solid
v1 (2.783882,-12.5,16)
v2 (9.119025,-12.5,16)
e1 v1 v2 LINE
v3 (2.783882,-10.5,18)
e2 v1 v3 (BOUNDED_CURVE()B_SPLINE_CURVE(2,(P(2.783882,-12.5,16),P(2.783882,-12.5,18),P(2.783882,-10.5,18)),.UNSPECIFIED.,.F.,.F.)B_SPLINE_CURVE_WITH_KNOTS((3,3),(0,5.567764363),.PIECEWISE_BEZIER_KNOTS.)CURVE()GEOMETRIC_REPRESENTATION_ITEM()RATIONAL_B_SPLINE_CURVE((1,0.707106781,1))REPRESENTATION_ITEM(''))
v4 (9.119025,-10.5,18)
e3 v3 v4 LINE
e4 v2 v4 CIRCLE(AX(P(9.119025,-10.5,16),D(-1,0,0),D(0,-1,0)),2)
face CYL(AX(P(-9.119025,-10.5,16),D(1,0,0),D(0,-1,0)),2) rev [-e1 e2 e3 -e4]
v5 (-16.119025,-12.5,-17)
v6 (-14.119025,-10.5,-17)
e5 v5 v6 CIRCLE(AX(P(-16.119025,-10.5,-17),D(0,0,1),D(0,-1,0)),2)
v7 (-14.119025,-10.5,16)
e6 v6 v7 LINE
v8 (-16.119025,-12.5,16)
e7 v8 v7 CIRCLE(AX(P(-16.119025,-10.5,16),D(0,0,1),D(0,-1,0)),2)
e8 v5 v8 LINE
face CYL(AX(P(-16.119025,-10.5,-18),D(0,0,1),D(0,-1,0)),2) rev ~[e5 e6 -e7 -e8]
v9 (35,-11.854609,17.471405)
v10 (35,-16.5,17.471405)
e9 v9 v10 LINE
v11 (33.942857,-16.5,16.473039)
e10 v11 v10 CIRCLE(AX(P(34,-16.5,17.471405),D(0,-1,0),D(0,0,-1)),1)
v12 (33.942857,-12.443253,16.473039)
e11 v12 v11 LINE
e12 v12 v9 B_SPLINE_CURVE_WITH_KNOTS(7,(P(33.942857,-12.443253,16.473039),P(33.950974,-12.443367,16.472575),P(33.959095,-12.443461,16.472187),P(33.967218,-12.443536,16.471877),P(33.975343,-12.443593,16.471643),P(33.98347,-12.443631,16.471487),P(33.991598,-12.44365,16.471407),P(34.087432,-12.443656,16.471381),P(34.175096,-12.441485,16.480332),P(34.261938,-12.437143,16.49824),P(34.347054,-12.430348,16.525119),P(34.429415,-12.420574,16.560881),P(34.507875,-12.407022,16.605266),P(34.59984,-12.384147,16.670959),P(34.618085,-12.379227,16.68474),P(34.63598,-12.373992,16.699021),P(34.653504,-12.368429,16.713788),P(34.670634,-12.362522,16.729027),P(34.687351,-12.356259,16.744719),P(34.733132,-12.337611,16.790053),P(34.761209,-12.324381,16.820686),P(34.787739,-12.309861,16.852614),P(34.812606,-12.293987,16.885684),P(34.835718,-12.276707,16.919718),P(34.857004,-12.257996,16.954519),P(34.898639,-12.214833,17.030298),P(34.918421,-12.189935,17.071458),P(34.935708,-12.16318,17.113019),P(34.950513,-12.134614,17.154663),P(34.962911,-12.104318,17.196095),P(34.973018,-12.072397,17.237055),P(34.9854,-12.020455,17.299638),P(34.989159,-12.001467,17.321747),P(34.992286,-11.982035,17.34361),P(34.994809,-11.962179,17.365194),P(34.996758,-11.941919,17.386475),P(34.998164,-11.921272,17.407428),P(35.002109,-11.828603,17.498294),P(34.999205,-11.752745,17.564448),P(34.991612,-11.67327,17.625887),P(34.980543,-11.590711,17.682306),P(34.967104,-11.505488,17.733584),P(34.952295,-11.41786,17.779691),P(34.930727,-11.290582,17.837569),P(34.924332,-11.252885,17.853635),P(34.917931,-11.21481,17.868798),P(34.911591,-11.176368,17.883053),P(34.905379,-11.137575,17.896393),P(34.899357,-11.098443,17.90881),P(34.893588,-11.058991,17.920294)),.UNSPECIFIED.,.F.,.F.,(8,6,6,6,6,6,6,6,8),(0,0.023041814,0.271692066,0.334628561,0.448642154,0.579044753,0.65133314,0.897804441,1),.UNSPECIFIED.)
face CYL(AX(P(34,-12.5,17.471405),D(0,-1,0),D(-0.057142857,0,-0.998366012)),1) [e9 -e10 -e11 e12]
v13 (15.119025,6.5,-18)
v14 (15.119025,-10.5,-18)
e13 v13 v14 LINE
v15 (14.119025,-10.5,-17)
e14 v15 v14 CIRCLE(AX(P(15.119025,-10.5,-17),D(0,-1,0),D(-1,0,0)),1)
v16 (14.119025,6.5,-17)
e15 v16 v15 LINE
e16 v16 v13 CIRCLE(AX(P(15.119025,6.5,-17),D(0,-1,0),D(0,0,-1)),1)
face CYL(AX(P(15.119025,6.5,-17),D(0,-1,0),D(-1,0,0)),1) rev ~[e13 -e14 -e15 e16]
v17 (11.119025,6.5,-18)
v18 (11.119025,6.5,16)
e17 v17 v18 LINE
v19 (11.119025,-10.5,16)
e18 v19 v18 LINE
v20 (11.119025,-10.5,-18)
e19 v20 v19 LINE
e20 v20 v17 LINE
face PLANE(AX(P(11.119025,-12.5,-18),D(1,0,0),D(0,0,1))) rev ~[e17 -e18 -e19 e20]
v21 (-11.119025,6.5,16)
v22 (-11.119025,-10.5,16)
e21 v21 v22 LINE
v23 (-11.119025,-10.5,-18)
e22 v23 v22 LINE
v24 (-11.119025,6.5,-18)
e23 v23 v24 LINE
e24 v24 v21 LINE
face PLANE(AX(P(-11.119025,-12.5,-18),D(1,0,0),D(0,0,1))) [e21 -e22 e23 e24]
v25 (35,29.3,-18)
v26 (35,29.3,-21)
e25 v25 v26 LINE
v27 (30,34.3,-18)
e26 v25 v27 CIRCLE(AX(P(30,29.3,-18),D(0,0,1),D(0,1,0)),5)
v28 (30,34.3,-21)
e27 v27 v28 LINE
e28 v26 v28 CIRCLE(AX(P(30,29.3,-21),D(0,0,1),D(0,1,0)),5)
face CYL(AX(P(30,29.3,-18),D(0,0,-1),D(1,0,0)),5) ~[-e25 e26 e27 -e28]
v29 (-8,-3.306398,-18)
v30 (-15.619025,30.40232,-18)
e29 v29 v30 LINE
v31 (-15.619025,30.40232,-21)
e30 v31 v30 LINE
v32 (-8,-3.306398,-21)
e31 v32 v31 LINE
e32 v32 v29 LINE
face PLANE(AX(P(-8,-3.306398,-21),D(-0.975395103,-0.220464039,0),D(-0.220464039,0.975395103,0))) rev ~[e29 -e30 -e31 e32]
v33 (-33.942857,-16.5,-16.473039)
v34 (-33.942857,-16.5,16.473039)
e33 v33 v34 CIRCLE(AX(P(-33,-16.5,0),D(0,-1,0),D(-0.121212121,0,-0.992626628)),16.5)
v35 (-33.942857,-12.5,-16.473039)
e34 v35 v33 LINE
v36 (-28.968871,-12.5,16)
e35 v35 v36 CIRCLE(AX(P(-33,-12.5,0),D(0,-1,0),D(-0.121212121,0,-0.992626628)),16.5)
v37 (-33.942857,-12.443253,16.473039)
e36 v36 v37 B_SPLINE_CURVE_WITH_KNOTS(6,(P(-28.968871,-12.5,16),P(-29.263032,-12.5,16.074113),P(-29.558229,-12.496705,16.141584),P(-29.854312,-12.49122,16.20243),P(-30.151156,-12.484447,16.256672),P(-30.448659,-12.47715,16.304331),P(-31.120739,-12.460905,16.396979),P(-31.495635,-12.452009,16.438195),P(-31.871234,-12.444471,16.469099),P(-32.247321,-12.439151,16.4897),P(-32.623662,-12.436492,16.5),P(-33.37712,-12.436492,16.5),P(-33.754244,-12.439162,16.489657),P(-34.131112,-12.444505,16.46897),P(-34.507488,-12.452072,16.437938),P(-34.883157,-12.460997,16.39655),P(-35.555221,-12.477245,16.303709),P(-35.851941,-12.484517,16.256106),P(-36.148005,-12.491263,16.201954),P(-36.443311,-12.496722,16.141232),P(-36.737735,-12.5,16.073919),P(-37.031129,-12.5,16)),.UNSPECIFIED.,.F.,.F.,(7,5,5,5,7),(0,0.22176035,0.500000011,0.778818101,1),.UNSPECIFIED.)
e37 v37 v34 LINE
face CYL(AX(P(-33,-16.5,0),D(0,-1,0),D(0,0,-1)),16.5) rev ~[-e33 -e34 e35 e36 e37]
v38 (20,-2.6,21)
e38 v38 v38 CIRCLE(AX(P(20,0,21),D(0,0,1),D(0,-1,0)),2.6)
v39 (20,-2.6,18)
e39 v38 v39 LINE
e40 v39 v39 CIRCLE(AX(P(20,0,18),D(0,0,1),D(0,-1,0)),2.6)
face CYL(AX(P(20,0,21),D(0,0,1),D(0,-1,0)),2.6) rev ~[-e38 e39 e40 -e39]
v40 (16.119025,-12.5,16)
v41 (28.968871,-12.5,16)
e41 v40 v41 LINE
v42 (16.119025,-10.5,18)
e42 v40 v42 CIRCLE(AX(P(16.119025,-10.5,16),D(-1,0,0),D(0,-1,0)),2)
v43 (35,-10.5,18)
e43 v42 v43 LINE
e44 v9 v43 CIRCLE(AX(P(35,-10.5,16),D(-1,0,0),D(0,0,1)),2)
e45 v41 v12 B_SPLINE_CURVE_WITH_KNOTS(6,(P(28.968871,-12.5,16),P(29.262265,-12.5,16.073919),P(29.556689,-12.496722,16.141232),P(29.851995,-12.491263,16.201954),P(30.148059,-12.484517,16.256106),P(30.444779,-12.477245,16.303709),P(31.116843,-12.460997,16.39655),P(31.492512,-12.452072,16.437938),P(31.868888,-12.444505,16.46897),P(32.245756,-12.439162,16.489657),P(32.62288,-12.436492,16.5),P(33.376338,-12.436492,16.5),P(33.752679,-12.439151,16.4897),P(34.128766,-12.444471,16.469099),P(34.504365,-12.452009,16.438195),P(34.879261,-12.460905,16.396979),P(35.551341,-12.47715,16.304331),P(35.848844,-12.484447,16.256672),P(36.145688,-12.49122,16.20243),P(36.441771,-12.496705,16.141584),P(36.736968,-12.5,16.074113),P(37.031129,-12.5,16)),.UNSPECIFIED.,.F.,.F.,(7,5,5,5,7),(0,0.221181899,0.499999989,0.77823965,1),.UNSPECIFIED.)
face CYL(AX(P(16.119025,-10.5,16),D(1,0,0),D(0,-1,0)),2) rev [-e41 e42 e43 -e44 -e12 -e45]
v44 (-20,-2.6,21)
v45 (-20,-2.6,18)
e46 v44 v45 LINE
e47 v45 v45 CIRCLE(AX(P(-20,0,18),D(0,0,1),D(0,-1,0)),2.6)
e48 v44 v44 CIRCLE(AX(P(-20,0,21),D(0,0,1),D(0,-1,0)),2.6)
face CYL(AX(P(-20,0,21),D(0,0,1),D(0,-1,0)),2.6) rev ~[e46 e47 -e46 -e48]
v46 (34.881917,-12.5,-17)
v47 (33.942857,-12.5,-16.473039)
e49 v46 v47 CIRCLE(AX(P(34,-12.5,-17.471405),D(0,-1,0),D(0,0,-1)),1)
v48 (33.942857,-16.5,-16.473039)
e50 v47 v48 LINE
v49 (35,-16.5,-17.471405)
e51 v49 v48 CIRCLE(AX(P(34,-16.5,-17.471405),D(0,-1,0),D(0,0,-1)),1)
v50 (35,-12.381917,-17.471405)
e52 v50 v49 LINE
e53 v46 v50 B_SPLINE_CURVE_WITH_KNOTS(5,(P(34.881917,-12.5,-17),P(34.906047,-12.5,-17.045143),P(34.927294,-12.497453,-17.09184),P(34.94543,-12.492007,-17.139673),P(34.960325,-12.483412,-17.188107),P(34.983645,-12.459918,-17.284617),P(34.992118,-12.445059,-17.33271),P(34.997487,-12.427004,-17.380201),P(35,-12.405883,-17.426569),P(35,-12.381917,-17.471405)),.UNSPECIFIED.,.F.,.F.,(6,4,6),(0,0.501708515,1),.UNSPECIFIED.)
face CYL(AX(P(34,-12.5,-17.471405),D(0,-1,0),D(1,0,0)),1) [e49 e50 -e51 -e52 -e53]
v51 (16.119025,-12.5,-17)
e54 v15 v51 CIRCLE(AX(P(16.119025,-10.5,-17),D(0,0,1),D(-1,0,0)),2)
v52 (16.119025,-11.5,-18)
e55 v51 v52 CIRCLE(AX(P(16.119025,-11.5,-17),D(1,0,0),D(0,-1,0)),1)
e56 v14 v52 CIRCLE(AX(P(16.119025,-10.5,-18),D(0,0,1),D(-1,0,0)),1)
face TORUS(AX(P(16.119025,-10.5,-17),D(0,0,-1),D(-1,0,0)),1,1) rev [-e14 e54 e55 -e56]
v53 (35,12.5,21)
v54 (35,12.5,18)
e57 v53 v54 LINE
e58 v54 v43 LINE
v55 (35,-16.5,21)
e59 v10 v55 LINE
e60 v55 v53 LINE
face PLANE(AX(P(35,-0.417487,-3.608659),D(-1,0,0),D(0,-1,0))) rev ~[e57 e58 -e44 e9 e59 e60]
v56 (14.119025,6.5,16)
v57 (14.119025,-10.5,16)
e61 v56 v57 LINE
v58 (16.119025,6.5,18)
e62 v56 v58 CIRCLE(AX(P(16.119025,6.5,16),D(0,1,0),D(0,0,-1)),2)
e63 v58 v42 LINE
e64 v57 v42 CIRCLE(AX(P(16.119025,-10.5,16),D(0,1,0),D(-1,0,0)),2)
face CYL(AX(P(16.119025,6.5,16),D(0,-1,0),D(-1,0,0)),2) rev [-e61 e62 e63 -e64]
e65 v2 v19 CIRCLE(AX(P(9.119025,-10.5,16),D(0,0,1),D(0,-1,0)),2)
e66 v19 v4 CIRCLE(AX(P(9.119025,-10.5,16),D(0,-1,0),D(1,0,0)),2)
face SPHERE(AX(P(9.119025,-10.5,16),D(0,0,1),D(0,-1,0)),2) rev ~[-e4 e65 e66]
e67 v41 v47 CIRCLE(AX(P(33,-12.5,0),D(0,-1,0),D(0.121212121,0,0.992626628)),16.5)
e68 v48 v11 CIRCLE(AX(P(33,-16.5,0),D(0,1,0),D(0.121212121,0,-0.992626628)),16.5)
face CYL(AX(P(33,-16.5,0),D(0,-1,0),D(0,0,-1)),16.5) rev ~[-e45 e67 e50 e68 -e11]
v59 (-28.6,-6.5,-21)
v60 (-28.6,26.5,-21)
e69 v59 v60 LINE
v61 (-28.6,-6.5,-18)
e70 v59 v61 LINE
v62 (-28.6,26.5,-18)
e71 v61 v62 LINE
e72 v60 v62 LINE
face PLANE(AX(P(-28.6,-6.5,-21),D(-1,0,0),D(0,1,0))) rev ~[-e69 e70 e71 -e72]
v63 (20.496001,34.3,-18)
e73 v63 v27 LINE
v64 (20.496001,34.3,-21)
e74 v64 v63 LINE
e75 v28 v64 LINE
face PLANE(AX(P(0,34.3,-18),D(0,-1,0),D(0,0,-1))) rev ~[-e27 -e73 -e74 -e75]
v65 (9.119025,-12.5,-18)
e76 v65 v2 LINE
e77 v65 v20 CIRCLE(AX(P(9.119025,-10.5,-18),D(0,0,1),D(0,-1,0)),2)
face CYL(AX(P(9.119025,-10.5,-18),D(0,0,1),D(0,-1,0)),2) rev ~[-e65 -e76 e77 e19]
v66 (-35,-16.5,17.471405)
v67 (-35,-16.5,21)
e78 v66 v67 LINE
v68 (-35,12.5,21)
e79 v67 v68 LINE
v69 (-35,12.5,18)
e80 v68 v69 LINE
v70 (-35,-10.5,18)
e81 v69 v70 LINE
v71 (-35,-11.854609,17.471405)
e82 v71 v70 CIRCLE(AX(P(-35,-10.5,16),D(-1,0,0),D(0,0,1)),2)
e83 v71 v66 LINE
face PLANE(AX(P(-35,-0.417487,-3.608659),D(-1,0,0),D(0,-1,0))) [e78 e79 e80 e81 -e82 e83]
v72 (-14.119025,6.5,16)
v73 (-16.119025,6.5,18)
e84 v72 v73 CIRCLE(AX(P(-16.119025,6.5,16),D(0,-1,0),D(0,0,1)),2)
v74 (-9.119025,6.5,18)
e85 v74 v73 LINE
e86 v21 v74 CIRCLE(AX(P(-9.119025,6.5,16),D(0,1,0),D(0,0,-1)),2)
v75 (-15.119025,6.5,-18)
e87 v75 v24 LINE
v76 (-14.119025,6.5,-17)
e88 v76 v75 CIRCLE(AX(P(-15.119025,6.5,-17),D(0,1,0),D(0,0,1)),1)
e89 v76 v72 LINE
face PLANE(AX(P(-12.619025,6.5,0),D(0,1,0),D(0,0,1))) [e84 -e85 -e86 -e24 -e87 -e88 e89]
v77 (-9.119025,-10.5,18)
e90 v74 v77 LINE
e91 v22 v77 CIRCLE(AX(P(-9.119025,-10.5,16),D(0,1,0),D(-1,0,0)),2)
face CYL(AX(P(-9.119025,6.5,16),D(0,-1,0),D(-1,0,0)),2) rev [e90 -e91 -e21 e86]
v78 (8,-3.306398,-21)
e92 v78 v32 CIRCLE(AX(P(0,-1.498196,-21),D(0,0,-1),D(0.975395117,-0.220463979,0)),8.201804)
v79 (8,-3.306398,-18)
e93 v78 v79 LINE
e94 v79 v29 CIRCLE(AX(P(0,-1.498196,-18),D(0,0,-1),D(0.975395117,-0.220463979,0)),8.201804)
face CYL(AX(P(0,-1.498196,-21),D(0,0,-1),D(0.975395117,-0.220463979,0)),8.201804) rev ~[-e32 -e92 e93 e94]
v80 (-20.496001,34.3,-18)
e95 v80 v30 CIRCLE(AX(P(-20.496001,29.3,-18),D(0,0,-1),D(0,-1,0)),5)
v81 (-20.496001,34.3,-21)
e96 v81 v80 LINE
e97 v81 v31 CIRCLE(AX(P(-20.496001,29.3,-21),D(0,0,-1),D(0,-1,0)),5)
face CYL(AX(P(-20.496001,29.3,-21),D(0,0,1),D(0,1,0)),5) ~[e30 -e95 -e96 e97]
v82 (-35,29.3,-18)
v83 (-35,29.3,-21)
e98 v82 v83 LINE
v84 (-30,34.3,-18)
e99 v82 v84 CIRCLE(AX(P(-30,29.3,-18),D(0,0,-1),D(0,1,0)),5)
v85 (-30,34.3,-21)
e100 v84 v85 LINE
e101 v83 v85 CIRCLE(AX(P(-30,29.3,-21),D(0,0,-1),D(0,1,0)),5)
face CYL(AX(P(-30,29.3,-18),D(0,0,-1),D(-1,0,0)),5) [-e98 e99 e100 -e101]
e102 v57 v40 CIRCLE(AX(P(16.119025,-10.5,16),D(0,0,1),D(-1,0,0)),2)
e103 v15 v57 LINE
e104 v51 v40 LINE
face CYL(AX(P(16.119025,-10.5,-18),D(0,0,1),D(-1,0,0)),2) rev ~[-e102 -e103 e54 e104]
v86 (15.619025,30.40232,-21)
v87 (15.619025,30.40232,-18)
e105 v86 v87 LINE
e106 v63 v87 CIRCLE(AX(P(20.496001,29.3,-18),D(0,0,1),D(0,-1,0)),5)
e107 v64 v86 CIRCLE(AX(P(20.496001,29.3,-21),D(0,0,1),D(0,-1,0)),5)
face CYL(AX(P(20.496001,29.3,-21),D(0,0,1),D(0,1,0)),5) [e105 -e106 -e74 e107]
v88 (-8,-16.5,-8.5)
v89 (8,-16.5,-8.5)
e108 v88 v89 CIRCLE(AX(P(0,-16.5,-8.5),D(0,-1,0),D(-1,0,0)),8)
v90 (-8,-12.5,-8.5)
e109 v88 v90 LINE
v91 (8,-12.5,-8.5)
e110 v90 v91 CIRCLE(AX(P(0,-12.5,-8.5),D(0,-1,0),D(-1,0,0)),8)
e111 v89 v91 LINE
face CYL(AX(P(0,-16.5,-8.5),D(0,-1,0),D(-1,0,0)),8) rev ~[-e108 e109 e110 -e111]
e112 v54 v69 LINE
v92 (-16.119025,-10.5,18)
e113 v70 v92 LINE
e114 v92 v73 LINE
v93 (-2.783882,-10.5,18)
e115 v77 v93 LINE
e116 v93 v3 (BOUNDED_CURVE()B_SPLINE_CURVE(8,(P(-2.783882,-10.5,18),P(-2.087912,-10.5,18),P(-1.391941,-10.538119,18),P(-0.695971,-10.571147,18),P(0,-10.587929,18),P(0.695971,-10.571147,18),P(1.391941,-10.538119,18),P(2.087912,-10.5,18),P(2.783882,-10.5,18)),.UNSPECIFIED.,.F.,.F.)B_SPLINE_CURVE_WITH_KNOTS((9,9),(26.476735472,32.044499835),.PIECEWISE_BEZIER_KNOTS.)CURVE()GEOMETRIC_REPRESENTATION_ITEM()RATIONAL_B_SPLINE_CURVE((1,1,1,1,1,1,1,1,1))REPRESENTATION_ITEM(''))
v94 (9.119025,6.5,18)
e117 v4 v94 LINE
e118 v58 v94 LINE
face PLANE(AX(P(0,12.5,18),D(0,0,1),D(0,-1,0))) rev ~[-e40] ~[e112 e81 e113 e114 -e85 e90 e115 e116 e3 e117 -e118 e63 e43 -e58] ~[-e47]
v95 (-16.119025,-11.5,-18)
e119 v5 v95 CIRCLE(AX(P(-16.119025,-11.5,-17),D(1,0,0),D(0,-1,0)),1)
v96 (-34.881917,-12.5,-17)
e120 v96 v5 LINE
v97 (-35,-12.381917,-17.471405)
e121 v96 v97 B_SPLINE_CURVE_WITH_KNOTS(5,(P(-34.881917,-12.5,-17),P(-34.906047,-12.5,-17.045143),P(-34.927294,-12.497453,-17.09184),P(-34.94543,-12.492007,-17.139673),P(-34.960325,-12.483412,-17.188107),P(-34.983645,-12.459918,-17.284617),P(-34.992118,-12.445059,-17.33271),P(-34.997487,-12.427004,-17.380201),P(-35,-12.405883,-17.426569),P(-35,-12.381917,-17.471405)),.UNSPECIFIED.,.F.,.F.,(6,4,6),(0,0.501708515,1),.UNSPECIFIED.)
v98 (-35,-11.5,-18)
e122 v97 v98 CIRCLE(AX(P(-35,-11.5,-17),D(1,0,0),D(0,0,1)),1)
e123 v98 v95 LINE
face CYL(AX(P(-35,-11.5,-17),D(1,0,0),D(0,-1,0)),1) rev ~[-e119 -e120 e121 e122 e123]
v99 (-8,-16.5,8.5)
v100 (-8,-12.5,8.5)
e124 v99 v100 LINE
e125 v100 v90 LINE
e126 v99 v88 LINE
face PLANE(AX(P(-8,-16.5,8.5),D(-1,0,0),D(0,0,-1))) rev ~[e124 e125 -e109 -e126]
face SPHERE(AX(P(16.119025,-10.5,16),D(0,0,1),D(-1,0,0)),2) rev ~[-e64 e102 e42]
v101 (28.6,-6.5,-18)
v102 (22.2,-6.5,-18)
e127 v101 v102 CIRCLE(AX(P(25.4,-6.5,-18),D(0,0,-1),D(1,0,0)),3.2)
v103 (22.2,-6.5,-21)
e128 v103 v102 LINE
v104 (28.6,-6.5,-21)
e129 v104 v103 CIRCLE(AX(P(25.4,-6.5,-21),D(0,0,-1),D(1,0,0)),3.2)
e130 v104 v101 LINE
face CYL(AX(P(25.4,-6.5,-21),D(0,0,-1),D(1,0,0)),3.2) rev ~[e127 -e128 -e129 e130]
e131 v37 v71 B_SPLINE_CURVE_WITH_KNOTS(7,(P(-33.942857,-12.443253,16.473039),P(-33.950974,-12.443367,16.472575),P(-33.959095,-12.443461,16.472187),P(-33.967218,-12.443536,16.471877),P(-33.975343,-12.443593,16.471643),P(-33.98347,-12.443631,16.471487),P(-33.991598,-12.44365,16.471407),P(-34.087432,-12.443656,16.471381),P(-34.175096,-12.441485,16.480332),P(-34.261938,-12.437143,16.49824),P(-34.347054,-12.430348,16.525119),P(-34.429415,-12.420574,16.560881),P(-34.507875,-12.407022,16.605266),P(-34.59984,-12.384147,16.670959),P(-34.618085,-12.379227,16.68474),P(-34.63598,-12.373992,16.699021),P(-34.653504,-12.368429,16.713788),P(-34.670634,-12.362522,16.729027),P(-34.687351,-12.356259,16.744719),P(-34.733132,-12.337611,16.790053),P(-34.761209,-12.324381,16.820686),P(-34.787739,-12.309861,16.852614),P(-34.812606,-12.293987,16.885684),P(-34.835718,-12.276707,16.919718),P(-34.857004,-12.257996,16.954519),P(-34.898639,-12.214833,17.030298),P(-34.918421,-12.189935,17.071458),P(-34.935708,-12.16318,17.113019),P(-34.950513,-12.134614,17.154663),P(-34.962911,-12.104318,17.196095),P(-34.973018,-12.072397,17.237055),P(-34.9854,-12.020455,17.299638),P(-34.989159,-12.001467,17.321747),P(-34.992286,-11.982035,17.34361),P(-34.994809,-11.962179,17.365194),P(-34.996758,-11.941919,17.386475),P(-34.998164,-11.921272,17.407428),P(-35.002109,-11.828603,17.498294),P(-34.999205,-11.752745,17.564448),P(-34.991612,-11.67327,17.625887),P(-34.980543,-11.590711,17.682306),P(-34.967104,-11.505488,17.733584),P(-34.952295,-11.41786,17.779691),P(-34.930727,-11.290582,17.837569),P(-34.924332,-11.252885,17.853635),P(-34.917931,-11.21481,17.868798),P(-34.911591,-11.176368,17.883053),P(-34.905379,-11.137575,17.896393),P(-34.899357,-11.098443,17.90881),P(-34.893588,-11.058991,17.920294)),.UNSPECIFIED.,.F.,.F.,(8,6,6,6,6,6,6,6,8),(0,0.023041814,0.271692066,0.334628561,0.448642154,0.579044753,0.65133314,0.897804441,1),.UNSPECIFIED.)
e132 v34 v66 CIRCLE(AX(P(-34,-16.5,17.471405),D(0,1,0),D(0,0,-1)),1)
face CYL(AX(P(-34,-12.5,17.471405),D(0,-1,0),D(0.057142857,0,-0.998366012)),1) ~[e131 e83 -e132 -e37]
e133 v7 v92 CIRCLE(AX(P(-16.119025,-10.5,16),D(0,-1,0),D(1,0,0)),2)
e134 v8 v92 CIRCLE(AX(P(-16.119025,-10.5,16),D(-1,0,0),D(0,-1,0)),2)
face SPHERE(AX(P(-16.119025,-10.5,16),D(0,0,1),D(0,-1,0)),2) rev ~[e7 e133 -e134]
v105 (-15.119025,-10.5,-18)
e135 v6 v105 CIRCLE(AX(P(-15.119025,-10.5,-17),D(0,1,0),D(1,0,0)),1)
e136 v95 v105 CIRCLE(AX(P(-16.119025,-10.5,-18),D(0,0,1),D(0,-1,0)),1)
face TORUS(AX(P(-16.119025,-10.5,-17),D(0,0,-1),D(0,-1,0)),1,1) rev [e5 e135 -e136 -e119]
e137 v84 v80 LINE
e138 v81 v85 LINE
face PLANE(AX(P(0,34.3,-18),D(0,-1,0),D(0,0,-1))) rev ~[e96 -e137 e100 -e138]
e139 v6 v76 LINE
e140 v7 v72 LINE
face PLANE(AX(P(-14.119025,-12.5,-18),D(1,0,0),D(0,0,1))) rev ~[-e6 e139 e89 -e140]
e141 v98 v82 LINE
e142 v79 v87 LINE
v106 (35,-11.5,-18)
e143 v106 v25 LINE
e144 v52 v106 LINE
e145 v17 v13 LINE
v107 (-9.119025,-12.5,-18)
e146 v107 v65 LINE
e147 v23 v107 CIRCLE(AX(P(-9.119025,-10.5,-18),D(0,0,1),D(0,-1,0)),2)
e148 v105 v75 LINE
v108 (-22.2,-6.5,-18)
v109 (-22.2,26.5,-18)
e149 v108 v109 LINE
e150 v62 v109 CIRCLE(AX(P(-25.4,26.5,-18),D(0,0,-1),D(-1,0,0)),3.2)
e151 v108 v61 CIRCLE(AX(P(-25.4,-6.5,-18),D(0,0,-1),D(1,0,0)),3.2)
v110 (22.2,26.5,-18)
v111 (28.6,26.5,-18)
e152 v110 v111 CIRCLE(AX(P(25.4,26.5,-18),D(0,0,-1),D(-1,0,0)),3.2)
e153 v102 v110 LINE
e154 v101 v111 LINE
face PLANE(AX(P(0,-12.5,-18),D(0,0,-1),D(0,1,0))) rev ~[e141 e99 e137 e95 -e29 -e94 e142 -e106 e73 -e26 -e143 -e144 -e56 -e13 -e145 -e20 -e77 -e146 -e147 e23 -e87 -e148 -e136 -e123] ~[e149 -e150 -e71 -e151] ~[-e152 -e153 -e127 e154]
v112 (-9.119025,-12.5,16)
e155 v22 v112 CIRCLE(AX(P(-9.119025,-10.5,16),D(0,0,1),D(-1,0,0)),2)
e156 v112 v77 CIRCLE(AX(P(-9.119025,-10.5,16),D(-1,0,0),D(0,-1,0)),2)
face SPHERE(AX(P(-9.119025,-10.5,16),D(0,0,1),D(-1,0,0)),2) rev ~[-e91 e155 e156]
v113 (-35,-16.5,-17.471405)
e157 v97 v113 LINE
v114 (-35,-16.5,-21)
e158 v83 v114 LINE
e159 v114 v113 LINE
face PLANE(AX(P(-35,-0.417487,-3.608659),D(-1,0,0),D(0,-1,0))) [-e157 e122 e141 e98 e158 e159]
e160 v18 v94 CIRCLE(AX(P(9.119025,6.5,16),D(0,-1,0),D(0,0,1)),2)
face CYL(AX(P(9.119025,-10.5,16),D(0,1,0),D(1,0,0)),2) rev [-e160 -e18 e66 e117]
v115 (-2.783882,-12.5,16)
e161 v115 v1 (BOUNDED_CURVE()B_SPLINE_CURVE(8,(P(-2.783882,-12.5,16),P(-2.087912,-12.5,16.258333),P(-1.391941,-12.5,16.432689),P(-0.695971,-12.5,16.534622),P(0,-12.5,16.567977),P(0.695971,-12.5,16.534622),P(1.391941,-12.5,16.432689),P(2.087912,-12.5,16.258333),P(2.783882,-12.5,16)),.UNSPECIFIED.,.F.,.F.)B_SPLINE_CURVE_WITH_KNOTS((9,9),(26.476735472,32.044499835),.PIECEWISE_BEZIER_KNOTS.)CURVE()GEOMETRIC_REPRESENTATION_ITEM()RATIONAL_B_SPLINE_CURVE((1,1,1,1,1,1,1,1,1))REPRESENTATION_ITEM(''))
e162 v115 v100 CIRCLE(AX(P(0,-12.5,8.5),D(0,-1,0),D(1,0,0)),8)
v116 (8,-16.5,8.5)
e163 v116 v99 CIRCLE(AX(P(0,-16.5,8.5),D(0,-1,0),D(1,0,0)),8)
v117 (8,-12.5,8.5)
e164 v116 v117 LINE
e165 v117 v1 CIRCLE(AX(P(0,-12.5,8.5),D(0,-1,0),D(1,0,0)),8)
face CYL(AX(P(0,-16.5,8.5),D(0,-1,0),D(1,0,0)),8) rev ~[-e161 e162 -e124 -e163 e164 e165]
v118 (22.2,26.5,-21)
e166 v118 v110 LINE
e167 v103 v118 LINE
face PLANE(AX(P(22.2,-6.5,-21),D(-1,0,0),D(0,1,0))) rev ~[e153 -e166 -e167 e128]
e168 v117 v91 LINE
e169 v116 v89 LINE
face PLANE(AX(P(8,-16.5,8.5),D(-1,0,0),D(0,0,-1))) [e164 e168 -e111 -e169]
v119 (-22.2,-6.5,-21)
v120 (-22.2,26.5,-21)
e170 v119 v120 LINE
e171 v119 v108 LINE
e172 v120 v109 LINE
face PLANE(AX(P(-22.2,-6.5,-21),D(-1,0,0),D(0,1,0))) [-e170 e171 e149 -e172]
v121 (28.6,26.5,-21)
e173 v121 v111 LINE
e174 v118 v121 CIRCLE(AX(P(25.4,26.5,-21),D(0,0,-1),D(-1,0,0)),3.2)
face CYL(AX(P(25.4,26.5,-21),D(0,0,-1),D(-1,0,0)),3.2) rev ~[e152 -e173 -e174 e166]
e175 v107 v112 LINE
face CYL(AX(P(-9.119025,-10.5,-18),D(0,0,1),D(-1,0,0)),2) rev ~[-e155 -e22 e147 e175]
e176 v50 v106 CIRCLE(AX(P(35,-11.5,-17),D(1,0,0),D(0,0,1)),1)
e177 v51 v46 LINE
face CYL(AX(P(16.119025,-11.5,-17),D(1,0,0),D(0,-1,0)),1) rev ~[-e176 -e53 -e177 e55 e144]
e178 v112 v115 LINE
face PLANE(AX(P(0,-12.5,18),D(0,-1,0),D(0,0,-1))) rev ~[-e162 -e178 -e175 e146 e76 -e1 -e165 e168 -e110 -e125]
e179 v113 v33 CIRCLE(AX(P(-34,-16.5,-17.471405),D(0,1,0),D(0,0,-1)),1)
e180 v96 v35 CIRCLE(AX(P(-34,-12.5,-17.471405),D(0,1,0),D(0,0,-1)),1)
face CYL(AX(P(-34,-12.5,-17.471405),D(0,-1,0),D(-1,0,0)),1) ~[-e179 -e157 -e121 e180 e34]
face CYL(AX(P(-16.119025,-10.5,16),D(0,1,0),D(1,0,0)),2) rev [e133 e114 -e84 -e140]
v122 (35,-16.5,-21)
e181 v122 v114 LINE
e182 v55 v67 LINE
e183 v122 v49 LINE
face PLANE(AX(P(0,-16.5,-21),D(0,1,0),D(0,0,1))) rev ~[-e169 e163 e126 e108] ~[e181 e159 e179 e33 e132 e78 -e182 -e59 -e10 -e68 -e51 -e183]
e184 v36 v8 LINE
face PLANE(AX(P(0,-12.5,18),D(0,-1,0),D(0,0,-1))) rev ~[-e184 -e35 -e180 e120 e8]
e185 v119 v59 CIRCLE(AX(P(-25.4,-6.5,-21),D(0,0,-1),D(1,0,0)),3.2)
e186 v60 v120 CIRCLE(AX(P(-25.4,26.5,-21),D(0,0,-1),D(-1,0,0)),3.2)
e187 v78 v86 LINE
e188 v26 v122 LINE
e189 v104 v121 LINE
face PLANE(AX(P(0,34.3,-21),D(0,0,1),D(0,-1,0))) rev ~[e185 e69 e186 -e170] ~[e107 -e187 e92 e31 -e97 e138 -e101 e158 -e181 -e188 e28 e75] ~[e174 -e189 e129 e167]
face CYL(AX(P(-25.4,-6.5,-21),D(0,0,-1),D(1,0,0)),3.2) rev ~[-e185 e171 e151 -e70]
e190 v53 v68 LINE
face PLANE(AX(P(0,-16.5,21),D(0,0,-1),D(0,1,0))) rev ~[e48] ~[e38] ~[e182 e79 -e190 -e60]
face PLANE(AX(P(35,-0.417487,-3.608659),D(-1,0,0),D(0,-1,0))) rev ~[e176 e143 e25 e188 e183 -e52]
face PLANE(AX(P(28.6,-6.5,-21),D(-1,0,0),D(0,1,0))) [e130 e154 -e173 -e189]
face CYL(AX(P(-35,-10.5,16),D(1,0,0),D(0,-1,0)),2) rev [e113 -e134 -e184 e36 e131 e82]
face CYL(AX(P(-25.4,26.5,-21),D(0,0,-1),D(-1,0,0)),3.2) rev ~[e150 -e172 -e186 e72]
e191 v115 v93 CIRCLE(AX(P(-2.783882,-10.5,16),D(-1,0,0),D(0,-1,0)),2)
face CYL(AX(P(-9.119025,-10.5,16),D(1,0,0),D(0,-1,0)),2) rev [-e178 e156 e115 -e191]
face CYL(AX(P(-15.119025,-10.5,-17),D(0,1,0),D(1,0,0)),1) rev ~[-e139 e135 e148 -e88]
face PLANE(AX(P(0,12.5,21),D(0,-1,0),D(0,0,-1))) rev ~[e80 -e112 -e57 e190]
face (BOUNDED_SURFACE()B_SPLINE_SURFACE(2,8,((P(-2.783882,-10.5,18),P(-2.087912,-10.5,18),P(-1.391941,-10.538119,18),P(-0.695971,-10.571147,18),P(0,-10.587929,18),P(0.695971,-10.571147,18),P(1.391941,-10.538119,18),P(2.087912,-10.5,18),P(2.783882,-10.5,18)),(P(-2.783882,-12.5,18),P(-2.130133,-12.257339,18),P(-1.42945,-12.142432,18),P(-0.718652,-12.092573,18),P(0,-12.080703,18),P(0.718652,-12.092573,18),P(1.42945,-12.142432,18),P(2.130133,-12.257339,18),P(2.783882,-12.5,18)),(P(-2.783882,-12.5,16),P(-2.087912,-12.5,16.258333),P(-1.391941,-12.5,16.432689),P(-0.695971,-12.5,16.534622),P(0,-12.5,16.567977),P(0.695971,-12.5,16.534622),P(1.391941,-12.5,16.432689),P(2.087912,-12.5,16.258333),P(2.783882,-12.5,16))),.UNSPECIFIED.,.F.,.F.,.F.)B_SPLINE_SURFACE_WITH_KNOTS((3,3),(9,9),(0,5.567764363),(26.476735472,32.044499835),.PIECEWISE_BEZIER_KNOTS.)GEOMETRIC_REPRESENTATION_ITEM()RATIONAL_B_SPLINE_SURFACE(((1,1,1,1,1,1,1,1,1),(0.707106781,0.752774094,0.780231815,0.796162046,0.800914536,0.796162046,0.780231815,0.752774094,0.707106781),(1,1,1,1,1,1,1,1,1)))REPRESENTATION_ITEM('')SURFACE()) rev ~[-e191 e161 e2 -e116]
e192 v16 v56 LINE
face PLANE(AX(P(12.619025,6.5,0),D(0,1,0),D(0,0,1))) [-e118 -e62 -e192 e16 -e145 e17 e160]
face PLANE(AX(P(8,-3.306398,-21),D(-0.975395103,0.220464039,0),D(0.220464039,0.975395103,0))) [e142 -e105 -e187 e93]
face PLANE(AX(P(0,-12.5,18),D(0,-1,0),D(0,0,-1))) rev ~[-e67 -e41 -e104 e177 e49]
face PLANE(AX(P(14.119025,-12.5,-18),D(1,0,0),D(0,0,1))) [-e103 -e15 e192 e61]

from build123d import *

# Parameters (mm, degrees)
PAD_DEPTH       = 35
SKETCH001_R     = 16.5
POCKET_DEPTH    = 5
POCKET001_DEPTH = 5
FILLET_R        = 1
FILLET001_R     = 5
SKETCH003_R     = 2.6
POCKET002_DEPTH = 5
SKETCH004_W     = 36
SKETCH004_H     = 3
PAD001_DEPTH    = 19
FILLET002_R     = 2
FILLET003_R     = 2
FILLET004_R     = 1


with BuildPart() as part:
    # Sketch → Pad (new body, symmetric)
    with BuildSketch(Plane.YZ):
        Polygon((34.3, -18), (34.3, -21), (-16.5, -21), (-16.5, 21), (12.5, 21), (12.5, 18), (-12.5, 18), (-12.5, -18), align=None)
    extrude(amount=PAD_DEPTH, both=True)

    # Sketch001 (on Face3 of Pad) → Pocket (cut)
    with BuildSketch(Plane(origin=(0, -16.5, 0), x_dir=(0, 0, -1), z_dir=(0, -1, 0))):
        with Locations((0, 33)):
            Circle(SKETCH001_R)
        with Locations((0, -33)):
            Circle(SKETCH001_R)
        with BuildLine():
            ThreePointArc((-8.5, 8), (-16.5, 0), (-8.5, -8))
            Line((-8.5, -8), (8.5, -8))
            ThreePointArc((8.5, -8), (16.5, 0), (8.5, 8))
            Line((-8.5, 8), (8.5, 8))
        make_face()
    extrude(amount=-POCKET_DEPTH, mode=Mode.SUBTRACT)

    # Sketch002 (on Face3 of Pocket) → Pocket001 (cut)
    with BuildSketch(Plane.YX.offset(21)):
        with BuildLine():
            ThreePointArc((-6.5, -22.2), (-9.7, -25.4), (-6.5, -28.6))
            Line((-6.5, -28.6), (26.5, -28.6))
            ThreePointArc((26.5, -28.6), (29.7, -25.4), (26.5, -22.2))
            Line((-6.5, -22.2), (26.5, -22.2))
        make_face()
        with BuildLine():
            ThreePointArc((-6.5, 28.6), (-9.7, 25.4), (-6.5, 22.2))
            Line((-6.5, 22.2), (26.5, 22.2))
            ThreePointArc((26.5, 22.2), (29.7, 25.4), (26.5, 28.6))
            Line((-6.5, 28.6), (26.5, 28.6))
        make_face()
        with BuildLine():
            ThreePointArc((-3.306398, 8), (-9.7, 0), (-3.306398, -8))
            Line((-3.306398, -8), (34.3, -16.5))
            ThreePointArc((34.3, -16.5), (54.94564, 0), (34.3, 16.5))
            Line((-3.306398, 8), (34.3, 16.5))
        make_face()
    extrude(amount=-POCKET001_DEPTH, mode=Mode.SUBTRACT)

    # Fillet
    fillet_edges = [part.edges().sort_by_distance(p)[0] for p in [
        (35, -14.5, 16.378339),
        (-35, -14.5, 16.378339),
        (-35, -14.5, -16.378339),
        (35, -14.5, -16.378339),
    ]]
    fillet(fillet_edges, radius=FILLET_R)

    # Fillet001
    fillet001_edges = [part.edges().sort_by_distance(p)[0] for p in [
        (35, 34.3, -19.5),
        (16.5, 34.3, -19.5),
        (-16.5, 34.3, -19.5),
        (-35, 34.3, -19.5),
    ]]
    fillet(fillet001_edges, radius=FILLET001_R)

    # Sketch003 (on Face39 of Fillet001) → Pocket002 (cut)
    with BuildSketch(Plane(origin=(0, 0, 21), x_dir=(0, -1, 0), z_dir=(0, 0, 1))):
        with Locations((0, 20)):
            Circle(SKETCH003_R)
        with Locations((0, -20)):
            Circle(SKETCH003_R)
    extrude(amount=-POCKET002_DEPTH, mode=Mode.SUBTRACT)

    # Sketch004 (on Face4 of Pocket002) → Pad001 (join)
    with BuildSketch(Plane.ZX.offset(-12.5)):
        with Locations((0, -12.619025)):
            Rectangle(SKETCH004_W, SKETCH004_H)
        with Locations((0, 12.619025)):
            Rectangle(SKETCH004_W, SKETCH004_H)
    extrude(amount=PAD001_DEPTH)

    # Fillet002
    fillet002_edges = [part.edges().sort_by_distance(p)[0] for p in [
        (14.119025, -12.5, 0),
        (-11.119025, -12.5, 0),
        (11.119025, -12.5, 0),
        (-14.119025, -12.5, 0),
    ]]
    fillet(fillet002_edges, radius=FILLET002_R)

    # Fillet003
    fillet003_edges = [part.edges().sort_by_distance(p)[0] for p in [
        (-25.559513, -12.5, 18),
        (0, -12.5, 18),
        (25.559513, -12.5, 18),
    ]]
    fillet(fillet003_edges, radius=FILLET003_R)

    # Fillet004
    fillet004_edges = [part.edges().sort_by_distance(p)[0] for p in [
        (25.559513, -12.5, -18),
        (-25.559513, -12.5, -18),
    ]]
    fillet(fillet004_edges, radius=FILLET004_R)


solid = part.part
